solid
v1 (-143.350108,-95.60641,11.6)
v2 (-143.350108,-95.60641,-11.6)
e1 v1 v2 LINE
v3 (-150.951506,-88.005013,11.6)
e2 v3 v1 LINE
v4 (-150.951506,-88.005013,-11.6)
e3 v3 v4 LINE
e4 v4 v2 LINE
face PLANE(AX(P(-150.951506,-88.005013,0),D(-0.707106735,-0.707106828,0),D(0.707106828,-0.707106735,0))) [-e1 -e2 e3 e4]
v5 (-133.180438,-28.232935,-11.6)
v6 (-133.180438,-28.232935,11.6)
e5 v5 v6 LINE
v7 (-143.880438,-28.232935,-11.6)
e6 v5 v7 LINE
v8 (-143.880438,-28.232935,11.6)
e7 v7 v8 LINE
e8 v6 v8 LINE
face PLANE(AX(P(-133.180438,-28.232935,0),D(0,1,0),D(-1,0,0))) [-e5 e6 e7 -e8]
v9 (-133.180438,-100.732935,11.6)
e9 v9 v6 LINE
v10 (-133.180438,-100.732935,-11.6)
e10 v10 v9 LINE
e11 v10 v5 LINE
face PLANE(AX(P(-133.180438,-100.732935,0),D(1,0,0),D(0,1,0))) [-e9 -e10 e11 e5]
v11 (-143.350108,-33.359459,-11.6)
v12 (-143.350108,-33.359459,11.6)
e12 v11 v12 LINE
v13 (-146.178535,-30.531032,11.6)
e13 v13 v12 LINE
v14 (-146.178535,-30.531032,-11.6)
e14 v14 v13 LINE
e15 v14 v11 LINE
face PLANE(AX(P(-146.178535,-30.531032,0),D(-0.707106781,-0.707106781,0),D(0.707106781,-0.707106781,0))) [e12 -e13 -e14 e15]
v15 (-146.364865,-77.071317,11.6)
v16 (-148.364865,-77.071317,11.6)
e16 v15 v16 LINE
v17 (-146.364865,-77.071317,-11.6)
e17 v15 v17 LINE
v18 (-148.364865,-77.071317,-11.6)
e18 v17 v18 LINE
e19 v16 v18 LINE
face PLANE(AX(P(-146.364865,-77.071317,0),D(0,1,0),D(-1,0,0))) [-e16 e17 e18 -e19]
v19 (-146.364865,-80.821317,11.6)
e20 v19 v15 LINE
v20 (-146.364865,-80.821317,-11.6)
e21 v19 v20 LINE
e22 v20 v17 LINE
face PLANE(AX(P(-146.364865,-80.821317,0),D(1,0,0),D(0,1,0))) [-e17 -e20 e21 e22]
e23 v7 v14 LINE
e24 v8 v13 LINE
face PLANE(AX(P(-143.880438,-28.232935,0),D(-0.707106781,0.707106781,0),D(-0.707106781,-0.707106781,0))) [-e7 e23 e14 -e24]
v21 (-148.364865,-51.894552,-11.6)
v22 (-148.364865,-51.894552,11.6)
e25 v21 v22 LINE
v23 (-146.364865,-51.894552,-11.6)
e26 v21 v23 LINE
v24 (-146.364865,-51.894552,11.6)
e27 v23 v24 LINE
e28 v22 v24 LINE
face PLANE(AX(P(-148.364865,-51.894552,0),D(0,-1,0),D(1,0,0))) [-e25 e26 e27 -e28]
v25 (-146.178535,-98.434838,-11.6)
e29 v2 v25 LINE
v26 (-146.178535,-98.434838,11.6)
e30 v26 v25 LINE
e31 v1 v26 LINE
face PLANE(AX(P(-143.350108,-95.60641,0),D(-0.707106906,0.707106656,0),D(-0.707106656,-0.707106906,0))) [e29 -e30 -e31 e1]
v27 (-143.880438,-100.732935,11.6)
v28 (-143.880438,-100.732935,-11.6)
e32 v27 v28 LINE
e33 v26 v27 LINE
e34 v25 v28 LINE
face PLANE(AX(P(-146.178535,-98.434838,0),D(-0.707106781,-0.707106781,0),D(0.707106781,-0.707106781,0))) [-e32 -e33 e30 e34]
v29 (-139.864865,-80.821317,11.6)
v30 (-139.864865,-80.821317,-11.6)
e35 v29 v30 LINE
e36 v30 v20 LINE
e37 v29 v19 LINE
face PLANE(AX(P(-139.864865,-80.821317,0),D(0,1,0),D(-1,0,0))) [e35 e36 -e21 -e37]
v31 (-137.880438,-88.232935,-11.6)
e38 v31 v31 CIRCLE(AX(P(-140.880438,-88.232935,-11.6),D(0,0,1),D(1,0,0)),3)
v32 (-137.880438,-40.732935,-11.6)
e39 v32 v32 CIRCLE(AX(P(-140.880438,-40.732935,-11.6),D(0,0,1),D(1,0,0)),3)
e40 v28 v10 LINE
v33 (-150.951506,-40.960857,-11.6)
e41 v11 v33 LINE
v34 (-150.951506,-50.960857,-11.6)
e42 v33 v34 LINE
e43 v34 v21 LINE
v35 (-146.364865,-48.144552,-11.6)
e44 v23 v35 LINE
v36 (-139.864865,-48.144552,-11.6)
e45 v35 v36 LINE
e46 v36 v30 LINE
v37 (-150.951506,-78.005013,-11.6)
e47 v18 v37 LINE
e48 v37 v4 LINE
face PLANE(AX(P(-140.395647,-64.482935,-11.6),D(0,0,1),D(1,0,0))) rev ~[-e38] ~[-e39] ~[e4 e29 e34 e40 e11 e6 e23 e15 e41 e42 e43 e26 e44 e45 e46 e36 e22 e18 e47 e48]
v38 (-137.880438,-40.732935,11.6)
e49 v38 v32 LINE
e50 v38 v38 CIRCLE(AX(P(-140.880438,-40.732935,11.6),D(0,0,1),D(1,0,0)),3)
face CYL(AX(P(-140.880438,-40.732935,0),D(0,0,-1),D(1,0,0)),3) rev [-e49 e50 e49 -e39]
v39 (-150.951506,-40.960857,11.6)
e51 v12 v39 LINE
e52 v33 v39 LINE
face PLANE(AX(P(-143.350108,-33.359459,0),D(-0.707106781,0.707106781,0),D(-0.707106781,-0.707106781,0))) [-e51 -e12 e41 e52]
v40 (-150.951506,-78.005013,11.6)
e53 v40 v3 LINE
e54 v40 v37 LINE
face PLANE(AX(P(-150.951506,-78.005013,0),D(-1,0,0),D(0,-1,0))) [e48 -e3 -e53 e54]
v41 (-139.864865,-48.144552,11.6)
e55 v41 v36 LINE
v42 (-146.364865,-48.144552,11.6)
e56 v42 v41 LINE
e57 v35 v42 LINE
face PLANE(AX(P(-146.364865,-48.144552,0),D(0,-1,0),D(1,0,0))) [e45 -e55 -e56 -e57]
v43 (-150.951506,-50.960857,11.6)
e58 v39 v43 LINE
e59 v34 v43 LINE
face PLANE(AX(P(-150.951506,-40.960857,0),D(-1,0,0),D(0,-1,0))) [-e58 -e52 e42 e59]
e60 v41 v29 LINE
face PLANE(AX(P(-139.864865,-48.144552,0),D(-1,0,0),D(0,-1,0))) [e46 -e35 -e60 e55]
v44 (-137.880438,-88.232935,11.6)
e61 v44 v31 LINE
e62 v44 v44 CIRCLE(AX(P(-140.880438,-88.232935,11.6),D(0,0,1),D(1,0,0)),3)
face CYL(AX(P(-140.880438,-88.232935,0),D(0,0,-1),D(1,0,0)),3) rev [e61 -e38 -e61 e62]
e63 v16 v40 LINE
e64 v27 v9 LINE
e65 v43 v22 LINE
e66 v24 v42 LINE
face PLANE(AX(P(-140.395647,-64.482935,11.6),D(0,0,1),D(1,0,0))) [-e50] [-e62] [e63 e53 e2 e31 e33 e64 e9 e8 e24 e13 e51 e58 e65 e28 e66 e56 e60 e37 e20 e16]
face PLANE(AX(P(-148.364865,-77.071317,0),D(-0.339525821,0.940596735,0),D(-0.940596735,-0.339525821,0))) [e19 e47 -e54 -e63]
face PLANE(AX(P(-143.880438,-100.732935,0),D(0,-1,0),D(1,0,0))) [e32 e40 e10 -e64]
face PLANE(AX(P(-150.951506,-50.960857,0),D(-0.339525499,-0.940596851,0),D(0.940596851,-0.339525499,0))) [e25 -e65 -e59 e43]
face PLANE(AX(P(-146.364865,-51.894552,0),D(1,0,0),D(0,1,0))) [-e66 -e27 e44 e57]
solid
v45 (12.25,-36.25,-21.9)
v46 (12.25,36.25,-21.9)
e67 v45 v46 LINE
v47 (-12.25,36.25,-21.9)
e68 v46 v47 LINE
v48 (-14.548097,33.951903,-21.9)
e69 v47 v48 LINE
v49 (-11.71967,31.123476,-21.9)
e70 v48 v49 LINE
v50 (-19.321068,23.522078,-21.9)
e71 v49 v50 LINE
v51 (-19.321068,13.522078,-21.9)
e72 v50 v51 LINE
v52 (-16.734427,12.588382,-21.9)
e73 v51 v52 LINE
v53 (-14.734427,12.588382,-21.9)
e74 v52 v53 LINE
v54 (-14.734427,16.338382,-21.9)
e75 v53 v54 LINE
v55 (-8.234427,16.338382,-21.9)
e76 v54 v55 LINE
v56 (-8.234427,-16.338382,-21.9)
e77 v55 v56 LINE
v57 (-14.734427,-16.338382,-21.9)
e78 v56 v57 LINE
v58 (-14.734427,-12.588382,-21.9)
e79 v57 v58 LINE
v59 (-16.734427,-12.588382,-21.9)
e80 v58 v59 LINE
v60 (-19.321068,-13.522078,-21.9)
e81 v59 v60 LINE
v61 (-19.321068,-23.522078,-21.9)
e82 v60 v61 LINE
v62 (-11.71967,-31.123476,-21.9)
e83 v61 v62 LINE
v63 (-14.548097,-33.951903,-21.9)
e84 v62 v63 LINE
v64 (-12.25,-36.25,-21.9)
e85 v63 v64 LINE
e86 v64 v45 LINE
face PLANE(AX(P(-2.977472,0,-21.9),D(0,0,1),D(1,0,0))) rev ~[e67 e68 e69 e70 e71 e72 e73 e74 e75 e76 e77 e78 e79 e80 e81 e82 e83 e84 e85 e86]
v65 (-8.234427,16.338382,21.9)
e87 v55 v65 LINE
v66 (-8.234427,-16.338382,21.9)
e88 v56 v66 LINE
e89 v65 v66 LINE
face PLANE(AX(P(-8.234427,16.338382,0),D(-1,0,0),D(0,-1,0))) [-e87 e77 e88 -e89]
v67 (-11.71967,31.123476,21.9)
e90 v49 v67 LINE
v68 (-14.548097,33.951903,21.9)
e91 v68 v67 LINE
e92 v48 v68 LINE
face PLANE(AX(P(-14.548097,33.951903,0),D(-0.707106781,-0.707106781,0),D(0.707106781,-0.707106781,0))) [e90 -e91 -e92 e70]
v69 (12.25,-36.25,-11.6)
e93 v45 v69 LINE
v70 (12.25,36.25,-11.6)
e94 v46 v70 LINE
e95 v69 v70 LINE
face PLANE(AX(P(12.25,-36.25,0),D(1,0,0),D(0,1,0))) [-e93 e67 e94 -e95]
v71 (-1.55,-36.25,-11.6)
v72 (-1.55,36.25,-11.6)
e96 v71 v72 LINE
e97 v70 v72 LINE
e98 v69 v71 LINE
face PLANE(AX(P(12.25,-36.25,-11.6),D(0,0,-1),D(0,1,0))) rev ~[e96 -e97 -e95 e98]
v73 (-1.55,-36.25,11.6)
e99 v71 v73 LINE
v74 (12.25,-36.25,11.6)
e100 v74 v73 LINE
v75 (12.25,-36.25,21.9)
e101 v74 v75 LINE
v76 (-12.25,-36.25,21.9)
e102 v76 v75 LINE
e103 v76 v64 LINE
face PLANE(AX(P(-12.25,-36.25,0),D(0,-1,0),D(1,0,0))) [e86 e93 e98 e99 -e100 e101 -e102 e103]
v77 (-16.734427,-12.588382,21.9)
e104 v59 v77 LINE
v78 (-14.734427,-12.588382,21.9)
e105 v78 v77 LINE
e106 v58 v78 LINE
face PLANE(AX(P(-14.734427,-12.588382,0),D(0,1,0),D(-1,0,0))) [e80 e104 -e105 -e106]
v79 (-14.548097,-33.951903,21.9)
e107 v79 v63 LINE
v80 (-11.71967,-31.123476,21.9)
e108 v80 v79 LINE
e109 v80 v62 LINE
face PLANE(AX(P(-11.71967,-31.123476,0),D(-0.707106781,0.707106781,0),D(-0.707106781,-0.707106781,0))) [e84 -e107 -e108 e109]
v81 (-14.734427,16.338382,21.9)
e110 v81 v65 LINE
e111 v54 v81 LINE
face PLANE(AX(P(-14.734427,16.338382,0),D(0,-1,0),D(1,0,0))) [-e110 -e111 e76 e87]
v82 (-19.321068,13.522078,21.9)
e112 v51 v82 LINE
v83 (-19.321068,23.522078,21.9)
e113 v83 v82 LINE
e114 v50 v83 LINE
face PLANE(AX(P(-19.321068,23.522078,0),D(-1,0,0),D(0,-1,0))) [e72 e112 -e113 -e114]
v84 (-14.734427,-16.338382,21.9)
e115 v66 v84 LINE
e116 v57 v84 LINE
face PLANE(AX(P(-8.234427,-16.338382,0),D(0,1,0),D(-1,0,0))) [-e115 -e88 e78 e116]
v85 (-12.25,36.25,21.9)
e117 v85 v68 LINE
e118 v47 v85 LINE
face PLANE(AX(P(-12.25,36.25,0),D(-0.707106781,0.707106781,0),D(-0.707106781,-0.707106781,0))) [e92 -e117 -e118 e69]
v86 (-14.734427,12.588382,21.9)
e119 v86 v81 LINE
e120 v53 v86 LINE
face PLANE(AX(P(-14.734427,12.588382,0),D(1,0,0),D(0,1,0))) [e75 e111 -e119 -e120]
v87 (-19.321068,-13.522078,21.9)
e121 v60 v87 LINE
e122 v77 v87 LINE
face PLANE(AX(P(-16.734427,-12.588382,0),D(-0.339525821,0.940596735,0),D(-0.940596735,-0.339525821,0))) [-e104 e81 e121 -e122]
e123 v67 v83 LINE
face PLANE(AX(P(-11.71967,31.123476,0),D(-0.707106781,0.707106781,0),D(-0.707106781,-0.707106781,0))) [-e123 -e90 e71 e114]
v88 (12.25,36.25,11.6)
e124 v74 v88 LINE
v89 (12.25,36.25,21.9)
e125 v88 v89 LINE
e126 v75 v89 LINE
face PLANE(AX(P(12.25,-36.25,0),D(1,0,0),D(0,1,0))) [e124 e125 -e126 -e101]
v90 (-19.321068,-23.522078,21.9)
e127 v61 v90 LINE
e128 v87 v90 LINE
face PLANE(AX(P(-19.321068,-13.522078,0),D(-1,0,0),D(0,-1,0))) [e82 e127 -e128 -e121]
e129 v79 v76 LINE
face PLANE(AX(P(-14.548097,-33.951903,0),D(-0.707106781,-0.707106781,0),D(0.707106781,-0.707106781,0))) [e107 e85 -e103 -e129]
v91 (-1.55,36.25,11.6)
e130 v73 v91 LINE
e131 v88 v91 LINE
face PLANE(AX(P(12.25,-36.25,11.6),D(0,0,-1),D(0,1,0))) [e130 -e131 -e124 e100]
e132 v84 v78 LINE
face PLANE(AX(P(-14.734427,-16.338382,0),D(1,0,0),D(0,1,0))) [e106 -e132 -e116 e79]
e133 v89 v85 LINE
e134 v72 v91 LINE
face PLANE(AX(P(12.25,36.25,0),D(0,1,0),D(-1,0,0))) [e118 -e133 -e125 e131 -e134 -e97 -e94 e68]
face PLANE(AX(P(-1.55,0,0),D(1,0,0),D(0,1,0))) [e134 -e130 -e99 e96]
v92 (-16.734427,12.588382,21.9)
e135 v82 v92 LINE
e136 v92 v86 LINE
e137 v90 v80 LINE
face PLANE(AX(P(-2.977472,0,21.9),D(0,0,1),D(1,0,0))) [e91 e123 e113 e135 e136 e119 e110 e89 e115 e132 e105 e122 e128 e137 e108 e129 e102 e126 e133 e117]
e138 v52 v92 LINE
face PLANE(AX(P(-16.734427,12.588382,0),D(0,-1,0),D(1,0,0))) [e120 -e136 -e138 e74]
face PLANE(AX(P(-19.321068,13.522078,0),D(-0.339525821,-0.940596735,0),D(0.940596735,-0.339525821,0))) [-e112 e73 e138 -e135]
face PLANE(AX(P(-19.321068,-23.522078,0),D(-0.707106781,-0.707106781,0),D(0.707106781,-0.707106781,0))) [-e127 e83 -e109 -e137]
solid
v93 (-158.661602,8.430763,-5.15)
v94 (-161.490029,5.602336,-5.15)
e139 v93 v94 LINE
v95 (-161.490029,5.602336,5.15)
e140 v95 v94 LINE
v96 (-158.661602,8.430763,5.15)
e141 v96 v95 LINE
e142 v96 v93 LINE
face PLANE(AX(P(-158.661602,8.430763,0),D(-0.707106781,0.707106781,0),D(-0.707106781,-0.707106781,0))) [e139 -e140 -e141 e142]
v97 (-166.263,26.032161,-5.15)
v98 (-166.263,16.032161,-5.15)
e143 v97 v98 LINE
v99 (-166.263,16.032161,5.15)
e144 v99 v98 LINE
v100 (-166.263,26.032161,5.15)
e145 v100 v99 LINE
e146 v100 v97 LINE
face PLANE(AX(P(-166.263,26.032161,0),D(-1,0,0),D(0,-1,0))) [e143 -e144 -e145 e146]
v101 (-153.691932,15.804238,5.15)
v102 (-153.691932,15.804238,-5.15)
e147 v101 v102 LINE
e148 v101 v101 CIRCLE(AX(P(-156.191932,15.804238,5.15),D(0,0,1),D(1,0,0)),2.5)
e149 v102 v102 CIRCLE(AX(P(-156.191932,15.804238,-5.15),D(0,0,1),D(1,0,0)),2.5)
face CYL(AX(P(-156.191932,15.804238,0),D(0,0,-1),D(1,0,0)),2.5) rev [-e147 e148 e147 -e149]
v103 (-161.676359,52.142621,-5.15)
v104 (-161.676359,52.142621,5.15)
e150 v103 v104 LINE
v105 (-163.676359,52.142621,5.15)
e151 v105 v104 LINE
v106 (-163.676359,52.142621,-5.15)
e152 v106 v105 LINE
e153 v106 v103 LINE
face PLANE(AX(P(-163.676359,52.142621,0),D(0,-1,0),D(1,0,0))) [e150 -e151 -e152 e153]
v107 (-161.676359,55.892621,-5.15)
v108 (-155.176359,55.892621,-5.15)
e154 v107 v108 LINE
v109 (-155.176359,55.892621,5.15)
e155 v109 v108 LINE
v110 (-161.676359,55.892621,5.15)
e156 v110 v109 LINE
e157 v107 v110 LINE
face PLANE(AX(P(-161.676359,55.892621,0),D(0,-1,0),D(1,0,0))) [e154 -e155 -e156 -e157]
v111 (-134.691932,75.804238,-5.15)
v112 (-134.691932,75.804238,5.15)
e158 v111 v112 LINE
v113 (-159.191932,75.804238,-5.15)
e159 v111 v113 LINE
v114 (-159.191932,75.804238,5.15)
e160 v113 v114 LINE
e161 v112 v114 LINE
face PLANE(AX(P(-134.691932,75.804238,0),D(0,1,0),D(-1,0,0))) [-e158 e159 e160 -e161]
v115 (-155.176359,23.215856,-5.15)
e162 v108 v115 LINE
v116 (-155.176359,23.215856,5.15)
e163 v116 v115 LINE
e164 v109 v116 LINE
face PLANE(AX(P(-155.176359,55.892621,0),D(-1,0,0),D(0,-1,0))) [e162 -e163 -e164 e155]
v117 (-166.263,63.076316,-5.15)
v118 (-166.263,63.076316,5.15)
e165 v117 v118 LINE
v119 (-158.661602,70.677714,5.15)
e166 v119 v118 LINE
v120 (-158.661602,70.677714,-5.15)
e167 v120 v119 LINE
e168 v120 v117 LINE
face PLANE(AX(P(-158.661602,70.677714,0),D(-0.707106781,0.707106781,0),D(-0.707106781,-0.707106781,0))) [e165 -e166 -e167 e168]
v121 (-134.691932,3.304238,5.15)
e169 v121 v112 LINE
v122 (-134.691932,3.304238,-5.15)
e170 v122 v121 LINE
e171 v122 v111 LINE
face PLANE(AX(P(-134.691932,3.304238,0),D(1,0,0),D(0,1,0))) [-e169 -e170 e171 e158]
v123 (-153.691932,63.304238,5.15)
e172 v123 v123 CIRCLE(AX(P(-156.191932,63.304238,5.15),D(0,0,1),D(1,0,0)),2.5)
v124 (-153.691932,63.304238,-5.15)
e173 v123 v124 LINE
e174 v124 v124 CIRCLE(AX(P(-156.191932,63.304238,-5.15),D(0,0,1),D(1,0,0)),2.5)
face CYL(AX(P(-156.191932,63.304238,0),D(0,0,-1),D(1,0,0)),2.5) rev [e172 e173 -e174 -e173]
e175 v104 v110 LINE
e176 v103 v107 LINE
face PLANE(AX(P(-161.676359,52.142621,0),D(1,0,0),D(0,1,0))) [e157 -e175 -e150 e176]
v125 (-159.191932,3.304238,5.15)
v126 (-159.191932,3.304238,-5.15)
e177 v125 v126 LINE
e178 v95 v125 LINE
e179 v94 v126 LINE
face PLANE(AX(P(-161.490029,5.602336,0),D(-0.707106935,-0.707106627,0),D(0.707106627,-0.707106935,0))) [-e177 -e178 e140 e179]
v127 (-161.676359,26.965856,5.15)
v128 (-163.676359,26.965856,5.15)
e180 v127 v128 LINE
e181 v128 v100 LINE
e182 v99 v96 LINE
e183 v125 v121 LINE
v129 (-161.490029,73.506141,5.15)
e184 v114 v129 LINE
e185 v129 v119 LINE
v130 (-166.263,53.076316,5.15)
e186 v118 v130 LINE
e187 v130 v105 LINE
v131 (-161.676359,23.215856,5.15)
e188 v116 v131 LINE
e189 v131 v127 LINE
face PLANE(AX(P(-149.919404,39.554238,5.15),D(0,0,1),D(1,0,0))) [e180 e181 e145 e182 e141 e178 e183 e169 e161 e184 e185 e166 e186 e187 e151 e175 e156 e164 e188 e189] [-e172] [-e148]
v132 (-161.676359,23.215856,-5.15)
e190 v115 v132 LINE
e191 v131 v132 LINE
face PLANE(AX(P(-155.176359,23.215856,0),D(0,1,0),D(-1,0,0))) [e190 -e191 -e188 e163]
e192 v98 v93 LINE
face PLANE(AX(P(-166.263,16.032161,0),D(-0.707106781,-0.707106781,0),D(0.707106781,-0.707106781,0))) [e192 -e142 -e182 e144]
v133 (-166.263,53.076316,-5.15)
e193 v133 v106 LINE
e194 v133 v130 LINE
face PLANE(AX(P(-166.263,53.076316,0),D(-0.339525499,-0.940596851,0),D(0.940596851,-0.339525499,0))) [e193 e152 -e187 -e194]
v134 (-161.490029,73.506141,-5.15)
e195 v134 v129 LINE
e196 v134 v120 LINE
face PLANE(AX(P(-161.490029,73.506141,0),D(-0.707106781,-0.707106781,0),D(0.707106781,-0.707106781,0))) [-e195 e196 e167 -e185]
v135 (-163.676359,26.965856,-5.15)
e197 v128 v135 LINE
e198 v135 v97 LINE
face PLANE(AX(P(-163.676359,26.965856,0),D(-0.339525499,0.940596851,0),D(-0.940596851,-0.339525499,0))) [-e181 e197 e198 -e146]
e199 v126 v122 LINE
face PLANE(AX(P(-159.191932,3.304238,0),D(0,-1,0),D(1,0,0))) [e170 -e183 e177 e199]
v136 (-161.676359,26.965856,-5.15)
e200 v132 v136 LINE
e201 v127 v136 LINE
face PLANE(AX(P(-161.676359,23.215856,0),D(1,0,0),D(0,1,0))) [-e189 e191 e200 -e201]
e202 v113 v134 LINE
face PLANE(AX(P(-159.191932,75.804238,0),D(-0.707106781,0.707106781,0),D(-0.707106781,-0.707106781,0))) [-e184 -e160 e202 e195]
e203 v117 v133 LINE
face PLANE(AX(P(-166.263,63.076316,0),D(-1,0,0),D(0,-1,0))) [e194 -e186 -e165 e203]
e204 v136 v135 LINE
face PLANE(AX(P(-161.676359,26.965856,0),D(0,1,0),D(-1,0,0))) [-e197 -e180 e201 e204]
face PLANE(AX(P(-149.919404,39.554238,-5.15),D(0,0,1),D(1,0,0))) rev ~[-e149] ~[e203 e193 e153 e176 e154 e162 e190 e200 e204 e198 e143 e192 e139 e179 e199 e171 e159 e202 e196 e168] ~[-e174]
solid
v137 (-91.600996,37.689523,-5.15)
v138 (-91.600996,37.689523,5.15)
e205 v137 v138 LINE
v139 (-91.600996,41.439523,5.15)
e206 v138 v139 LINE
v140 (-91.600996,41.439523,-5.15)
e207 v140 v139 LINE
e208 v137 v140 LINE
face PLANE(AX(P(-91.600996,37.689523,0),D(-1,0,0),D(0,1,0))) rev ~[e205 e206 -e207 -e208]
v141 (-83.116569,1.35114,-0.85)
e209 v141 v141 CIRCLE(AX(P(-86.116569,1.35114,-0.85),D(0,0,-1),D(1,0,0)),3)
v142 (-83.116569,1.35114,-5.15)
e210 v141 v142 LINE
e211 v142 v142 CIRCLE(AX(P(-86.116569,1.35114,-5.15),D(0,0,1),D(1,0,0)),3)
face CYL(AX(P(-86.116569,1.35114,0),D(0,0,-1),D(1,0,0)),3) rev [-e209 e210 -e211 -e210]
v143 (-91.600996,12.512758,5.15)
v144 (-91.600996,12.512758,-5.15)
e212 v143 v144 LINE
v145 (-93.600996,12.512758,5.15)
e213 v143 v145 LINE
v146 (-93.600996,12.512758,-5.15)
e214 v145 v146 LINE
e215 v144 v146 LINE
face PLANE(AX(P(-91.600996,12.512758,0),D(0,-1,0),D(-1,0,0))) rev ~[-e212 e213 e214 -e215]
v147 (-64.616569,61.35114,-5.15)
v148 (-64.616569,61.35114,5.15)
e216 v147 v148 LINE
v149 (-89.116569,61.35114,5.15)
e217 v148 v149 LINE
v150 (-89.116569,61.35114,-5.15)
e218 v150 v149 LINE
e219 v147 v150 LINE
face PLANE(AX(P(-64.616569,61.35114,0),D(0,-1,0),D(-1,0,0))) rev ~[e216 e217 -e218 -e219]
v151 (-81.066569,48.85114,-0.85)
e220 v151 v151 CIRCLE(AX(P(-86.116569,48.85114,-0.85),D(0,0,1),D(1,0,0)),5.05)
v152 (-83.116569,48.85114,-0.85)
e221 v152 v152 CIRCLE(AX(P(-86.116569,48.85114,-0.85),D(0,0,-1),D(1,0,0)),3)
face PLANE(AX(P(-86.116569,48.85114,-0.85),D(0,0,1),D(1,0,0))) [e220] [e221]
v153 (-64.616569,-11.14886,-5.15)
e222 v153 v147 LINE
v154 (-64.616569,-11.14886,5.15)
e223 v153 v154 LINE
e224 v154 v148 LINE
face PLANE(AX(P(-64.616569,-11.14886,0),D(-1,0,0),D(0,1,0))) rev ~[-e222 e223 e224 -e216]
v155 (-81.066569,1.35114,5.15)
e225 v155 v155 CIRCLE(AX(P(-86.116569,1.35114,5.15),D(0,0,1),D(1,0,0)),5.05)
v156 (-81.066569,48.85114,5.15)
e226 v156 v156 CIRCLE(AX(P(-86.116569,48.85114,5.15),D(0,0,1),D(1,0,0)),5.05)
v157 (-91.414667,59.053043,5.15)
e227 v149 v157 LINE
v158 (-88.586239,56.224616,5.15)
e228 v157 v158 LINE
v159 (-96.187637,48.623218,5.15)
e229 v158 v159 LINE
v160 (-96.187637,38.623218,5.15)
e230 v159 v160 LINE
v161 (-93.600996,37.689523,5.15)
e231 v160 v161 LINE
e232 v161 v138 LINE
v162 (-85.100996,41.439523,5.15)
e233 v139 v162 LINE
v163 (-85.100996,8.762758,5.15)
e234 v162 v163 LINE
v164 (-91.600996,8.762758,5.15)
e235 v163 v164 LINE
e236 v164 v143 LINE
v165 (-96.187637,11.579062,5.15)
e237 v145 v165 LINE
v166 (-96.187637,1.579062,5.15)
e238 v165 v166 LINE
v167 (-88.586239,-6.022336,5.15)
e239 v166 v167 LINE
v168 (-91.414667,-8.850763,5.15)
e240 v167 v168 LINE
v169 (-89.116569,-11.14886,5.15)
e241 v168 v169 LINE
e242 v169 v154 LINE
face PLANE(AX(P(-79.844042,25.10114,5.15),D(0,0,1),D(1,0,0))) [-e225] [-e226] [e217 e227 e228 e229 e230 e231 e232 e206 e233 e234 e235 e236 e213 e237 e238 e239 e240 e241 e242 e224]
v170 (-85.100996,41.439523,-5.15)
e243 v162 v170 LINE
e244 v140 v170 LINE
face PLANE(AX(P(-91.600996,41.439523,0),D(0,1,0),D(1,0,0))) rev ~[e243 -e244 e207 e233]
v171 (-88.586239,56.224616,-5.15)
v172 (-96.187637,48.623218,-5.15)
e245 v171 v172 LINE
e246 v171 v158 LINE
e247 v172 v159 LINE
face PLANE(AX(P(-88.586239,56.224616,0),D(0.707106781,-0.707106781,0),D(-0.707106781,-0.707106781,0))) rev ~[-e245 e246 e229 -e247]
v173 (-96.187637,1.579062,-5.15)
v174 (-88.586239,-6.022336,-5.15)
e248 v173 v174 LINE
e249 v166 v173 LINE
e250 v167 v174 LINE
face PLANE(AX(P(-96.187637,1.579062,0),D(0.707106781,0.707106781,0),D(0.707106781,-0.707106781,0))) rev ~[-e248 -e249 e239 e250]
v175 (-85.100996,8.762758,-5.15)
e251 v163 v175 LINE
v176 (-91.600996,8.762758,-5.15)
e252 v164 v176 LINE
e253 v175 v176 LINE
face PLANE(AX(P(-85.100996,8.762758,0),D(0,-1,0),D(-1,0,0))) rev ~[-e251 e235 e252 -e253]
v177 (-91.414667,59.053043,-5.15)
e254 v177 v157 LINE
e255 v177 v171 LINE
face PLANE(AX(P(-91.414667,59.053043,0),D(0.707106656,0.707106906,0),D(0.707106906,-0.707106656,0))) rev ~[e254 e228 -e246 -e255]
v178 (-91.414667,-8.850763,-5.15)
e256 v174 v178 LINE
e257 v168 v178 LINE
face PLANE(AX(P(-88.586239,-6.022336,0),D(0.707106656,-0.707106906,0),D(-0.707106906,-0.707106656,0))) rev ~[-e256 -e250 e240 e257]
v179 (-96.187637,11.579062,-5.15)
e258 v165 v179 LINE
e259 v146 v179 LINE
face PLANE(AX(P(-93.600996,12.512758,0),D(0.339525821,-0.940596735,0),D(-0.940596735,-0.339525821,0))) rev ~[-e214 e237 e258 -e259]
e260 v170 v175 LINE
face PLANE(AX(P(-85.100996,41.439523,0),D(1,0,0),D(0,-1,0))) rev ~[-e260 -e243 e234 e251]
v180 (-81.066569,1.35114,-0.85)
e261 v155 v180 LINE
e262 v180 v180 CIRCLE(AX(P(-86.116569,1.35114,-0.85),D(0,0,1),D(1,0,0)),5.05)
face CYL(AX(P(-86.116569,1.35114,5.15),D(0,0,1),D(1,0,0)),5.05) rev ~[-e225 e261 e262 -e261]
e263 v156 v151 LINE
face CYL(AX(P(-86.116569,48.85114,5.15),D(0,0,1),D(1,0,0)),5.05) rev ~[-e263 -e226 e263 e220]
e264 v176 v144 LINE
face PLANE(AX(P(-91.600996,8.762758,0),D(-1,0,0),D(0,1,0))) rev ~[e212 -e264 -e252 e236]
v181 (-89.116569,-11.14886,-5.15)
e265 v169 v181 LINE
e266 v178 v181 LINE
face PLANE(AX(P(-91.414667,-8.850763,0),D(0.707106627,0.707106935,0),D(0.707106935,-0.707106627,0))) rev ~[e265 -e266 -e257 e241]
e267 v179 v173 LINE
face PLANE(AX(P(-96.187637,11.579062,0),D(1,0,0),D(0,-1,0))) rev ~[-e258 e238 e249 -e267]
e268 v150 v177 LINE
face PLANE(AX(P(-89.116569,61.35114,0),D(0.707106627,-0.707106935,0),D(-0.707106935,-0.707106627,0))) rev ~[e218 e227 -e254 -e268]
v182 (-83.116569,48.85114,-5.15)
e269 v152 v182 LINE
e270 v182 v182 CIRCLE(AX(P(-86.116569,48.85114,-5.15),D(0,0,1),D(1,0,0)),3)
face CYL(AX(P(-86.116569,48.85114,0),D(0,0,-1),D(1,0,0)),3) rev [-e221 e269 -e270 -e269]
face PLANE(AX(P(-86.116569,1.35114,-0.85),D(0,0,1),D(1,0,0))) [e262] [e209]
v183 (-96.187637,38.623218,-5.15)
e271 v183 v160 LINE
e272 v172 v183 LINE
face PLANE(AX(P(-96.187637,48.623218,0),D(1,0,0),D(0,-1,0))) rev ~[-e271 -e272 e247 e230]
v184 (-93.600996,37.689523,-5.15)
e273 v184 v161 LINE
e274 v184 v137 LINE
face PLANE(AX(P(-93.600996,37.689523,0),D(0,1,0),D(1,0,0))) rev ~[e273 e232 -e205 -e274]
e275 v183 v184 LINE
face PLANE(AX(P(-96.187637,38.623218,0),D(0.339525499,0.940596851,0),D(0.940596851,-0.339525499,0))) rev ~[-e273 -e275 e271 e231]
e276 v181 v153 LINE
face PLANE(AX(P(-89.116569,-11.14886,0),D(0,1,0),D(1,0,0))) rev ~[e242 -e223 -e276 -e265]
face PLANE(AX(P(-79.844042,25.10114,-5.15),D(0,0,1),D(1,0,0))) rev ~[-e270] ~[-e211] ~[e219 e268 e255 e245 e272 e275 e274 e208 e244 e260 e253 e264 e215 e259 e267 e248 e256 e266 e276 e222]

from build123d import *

# Parameters (mm, degrees)
F1_DEPTH = 21.9
F2_W     = 72.5
F2_H     = 23.2
F3_DEPTH = 13.8
F4_R     = 3
F4_R_2   = 2.5
F5_DEPTH = 5.15
F6_R     = 3
F7_DEPTH = 11.6
F8_R     = 5.05
F9_DEPTH = 6


with BuildPart() as f1:
    # F0 (on Top) → F1 (new body, symmetric)
    with BuildSketch(Plane.XY):
        Polygon((-12.25, -36.25), (12.25, -36.25), (12.25, 36.25), (-12.25, 36.25), (-14.548097, 33.951903), (-11.71967, 31.123476), (-19.321068, 23.522078), (-19.321068, 13.522078), (-16.734427, 12.588382), (-14.734427, 12.588382), (-14.734427, 13.322519), (-14.734427, 16.338382), (-8.234427, 16.338382), (-8.234427, 0), (-8.234427, -16.338382), (-14.734427, -16.338382), (-14.734427, -13.322519), (-14.734427, -12.588382), (-16.734427, -12.588382), (-19.321068, -13.522078), (-19.321068, -23.522078), (-11.71967, -31.123476), (-14.548097, -33.951903), align=None)
    extrude(amount=F1_DEPTH, both=True)

    # F2 (on face) → F3 (cut)
    with BuildSketch(Plane.YZ.offset(12.25)):
        Rectangle(F2_W, F2_H)
    extrude(amount=-F3_DEPTH, mode=Mode.SUBTRACT)


with BuildPart() as f5:
    # F4 (on Top) → F5 (new body, symmetric)
    with BuildSketch(Plane.XY):
        Polygon((-89.116569, -11.14886), (-64.616569, -11.14886), (-64.616569, 61.35114), (-89.116569, 61.35114), (-91.414667, 59.053043), (-88.586239, 56.224616), (-96.187637, 48.623218), (-96.187637, 38.623218), (-93.600996, 37.689523), (-91.600996, 37.689523), (-91.600996, 38.423659), (-91.600996, 41.439523), (-85.100996, 41.439523), (-85.100996, 25.10114), (-85.100996, 8.762758), (-91.600996, 8.762758), (-91.600996, 11.778621), (-91.600996, 12.512758), (-93.600996, 12.512758), (-96.187637, 11.579062), (-96.187637, 1.579062), (-88.586239, -6.022336), (-91.414667, -8.850763), align=None)
        with Locations((-86.116569, 1.35114)):
            Circle(F4_R, mode=Mode.SUBTRACT)
        with Locations((-86.116569, 48.85114)):
            Circle(F4_R, mode=Mode.SUBTRACT)
        Polygon((-159.191932, 3.304238), (-134.691932, 3.304238), (-134.691932, 75.804238), (-159.191932, 75.804238), (-161.490029, 73.506141), (-158.661602, 70.677714), (-166.263, 63.076316), (-166.263, 53.076316), (-163.676359, 52.142621), (-161.676359, 52.142621), (-161.676359, 52.876758), (-161.676359, 55.892621), (-155.176359, 55.892621), (-155.176359, 39.554238), (-155.176359, 23.215856), (-161.676359, 23.215856), (-161.676359, 26.231719), (-161.676359, 26.965856), (-163.676359, 26.965856), (-166.263, 26.032161), (-166.263, 16.032161), (-158.661602, 8.430763), (-161.490029, 5.602336), align=None)
        with Locations((-156.191932, 15.804238)):
            Circle(F4_R_2, mode=Mode.SUBTRACT)
        with Locations((-156.191932, 63.304238)):
            Circle(F4_R_2, mode=Mode.SUBTRACT)
    extrude(amount=F5_DEPTH, both=True)

    # F8 (on face) → F9 (cut)
    with BuildSketch(Plane.XY.offset(5.15)):
        with Locations((-86.116569, 48.85114)):
            Circle(F8_R)
        with Locations((-86.116569, 1.35114)):
            Circle(F8_R)
    extrude(amount=-F9_DEPTH, mode=Mode.SUBTRACT)


with BuildPart() as f7:
    # F6 (on Top) → F7 (new body, symmetric)
    with BuildSketch(Plane.XY):
        Polygon((-143.880438, -100.732935), (-133.180438, -100.732935), (-133.180438, -28.232935), (-143.880438, -28.232935), (-146.178535, -30.531032), (-143.350108, -33.359459), (-150.951506, -40.960857), (-150.951506, -50.960857), (-148.364865, -51.894552), (-146.364865, -51.894552), (-146.364865, -51.160416), (-146.364865, -48.144552), (-139.864865, -48.144552), (-139.864865, -64.482935), (-139.864865, -80.821317), (-146.364865, -80.821317), (-146.364865, -77.805454), (-146.364865, -77.071317), (-148.364865, -77.071317), (-150.951506, -78.005013), (-150.951506, -88.005013), (-143.350108, -95.60641), (-146.178535, -98.434838), align=None)
        with Locations((-140.880438, -88.232935)):
            Circle(F6_R, mode=Mode.SUBTRACT)
        with Locations((-140.880438, -40.732935)):
            Circle(F6_R, mode=Mode.SUBTRACT)
    extrude(amount=F7_DEPTH, both=True)


solid = Compound([f1.part, f5.part, f7.part])
